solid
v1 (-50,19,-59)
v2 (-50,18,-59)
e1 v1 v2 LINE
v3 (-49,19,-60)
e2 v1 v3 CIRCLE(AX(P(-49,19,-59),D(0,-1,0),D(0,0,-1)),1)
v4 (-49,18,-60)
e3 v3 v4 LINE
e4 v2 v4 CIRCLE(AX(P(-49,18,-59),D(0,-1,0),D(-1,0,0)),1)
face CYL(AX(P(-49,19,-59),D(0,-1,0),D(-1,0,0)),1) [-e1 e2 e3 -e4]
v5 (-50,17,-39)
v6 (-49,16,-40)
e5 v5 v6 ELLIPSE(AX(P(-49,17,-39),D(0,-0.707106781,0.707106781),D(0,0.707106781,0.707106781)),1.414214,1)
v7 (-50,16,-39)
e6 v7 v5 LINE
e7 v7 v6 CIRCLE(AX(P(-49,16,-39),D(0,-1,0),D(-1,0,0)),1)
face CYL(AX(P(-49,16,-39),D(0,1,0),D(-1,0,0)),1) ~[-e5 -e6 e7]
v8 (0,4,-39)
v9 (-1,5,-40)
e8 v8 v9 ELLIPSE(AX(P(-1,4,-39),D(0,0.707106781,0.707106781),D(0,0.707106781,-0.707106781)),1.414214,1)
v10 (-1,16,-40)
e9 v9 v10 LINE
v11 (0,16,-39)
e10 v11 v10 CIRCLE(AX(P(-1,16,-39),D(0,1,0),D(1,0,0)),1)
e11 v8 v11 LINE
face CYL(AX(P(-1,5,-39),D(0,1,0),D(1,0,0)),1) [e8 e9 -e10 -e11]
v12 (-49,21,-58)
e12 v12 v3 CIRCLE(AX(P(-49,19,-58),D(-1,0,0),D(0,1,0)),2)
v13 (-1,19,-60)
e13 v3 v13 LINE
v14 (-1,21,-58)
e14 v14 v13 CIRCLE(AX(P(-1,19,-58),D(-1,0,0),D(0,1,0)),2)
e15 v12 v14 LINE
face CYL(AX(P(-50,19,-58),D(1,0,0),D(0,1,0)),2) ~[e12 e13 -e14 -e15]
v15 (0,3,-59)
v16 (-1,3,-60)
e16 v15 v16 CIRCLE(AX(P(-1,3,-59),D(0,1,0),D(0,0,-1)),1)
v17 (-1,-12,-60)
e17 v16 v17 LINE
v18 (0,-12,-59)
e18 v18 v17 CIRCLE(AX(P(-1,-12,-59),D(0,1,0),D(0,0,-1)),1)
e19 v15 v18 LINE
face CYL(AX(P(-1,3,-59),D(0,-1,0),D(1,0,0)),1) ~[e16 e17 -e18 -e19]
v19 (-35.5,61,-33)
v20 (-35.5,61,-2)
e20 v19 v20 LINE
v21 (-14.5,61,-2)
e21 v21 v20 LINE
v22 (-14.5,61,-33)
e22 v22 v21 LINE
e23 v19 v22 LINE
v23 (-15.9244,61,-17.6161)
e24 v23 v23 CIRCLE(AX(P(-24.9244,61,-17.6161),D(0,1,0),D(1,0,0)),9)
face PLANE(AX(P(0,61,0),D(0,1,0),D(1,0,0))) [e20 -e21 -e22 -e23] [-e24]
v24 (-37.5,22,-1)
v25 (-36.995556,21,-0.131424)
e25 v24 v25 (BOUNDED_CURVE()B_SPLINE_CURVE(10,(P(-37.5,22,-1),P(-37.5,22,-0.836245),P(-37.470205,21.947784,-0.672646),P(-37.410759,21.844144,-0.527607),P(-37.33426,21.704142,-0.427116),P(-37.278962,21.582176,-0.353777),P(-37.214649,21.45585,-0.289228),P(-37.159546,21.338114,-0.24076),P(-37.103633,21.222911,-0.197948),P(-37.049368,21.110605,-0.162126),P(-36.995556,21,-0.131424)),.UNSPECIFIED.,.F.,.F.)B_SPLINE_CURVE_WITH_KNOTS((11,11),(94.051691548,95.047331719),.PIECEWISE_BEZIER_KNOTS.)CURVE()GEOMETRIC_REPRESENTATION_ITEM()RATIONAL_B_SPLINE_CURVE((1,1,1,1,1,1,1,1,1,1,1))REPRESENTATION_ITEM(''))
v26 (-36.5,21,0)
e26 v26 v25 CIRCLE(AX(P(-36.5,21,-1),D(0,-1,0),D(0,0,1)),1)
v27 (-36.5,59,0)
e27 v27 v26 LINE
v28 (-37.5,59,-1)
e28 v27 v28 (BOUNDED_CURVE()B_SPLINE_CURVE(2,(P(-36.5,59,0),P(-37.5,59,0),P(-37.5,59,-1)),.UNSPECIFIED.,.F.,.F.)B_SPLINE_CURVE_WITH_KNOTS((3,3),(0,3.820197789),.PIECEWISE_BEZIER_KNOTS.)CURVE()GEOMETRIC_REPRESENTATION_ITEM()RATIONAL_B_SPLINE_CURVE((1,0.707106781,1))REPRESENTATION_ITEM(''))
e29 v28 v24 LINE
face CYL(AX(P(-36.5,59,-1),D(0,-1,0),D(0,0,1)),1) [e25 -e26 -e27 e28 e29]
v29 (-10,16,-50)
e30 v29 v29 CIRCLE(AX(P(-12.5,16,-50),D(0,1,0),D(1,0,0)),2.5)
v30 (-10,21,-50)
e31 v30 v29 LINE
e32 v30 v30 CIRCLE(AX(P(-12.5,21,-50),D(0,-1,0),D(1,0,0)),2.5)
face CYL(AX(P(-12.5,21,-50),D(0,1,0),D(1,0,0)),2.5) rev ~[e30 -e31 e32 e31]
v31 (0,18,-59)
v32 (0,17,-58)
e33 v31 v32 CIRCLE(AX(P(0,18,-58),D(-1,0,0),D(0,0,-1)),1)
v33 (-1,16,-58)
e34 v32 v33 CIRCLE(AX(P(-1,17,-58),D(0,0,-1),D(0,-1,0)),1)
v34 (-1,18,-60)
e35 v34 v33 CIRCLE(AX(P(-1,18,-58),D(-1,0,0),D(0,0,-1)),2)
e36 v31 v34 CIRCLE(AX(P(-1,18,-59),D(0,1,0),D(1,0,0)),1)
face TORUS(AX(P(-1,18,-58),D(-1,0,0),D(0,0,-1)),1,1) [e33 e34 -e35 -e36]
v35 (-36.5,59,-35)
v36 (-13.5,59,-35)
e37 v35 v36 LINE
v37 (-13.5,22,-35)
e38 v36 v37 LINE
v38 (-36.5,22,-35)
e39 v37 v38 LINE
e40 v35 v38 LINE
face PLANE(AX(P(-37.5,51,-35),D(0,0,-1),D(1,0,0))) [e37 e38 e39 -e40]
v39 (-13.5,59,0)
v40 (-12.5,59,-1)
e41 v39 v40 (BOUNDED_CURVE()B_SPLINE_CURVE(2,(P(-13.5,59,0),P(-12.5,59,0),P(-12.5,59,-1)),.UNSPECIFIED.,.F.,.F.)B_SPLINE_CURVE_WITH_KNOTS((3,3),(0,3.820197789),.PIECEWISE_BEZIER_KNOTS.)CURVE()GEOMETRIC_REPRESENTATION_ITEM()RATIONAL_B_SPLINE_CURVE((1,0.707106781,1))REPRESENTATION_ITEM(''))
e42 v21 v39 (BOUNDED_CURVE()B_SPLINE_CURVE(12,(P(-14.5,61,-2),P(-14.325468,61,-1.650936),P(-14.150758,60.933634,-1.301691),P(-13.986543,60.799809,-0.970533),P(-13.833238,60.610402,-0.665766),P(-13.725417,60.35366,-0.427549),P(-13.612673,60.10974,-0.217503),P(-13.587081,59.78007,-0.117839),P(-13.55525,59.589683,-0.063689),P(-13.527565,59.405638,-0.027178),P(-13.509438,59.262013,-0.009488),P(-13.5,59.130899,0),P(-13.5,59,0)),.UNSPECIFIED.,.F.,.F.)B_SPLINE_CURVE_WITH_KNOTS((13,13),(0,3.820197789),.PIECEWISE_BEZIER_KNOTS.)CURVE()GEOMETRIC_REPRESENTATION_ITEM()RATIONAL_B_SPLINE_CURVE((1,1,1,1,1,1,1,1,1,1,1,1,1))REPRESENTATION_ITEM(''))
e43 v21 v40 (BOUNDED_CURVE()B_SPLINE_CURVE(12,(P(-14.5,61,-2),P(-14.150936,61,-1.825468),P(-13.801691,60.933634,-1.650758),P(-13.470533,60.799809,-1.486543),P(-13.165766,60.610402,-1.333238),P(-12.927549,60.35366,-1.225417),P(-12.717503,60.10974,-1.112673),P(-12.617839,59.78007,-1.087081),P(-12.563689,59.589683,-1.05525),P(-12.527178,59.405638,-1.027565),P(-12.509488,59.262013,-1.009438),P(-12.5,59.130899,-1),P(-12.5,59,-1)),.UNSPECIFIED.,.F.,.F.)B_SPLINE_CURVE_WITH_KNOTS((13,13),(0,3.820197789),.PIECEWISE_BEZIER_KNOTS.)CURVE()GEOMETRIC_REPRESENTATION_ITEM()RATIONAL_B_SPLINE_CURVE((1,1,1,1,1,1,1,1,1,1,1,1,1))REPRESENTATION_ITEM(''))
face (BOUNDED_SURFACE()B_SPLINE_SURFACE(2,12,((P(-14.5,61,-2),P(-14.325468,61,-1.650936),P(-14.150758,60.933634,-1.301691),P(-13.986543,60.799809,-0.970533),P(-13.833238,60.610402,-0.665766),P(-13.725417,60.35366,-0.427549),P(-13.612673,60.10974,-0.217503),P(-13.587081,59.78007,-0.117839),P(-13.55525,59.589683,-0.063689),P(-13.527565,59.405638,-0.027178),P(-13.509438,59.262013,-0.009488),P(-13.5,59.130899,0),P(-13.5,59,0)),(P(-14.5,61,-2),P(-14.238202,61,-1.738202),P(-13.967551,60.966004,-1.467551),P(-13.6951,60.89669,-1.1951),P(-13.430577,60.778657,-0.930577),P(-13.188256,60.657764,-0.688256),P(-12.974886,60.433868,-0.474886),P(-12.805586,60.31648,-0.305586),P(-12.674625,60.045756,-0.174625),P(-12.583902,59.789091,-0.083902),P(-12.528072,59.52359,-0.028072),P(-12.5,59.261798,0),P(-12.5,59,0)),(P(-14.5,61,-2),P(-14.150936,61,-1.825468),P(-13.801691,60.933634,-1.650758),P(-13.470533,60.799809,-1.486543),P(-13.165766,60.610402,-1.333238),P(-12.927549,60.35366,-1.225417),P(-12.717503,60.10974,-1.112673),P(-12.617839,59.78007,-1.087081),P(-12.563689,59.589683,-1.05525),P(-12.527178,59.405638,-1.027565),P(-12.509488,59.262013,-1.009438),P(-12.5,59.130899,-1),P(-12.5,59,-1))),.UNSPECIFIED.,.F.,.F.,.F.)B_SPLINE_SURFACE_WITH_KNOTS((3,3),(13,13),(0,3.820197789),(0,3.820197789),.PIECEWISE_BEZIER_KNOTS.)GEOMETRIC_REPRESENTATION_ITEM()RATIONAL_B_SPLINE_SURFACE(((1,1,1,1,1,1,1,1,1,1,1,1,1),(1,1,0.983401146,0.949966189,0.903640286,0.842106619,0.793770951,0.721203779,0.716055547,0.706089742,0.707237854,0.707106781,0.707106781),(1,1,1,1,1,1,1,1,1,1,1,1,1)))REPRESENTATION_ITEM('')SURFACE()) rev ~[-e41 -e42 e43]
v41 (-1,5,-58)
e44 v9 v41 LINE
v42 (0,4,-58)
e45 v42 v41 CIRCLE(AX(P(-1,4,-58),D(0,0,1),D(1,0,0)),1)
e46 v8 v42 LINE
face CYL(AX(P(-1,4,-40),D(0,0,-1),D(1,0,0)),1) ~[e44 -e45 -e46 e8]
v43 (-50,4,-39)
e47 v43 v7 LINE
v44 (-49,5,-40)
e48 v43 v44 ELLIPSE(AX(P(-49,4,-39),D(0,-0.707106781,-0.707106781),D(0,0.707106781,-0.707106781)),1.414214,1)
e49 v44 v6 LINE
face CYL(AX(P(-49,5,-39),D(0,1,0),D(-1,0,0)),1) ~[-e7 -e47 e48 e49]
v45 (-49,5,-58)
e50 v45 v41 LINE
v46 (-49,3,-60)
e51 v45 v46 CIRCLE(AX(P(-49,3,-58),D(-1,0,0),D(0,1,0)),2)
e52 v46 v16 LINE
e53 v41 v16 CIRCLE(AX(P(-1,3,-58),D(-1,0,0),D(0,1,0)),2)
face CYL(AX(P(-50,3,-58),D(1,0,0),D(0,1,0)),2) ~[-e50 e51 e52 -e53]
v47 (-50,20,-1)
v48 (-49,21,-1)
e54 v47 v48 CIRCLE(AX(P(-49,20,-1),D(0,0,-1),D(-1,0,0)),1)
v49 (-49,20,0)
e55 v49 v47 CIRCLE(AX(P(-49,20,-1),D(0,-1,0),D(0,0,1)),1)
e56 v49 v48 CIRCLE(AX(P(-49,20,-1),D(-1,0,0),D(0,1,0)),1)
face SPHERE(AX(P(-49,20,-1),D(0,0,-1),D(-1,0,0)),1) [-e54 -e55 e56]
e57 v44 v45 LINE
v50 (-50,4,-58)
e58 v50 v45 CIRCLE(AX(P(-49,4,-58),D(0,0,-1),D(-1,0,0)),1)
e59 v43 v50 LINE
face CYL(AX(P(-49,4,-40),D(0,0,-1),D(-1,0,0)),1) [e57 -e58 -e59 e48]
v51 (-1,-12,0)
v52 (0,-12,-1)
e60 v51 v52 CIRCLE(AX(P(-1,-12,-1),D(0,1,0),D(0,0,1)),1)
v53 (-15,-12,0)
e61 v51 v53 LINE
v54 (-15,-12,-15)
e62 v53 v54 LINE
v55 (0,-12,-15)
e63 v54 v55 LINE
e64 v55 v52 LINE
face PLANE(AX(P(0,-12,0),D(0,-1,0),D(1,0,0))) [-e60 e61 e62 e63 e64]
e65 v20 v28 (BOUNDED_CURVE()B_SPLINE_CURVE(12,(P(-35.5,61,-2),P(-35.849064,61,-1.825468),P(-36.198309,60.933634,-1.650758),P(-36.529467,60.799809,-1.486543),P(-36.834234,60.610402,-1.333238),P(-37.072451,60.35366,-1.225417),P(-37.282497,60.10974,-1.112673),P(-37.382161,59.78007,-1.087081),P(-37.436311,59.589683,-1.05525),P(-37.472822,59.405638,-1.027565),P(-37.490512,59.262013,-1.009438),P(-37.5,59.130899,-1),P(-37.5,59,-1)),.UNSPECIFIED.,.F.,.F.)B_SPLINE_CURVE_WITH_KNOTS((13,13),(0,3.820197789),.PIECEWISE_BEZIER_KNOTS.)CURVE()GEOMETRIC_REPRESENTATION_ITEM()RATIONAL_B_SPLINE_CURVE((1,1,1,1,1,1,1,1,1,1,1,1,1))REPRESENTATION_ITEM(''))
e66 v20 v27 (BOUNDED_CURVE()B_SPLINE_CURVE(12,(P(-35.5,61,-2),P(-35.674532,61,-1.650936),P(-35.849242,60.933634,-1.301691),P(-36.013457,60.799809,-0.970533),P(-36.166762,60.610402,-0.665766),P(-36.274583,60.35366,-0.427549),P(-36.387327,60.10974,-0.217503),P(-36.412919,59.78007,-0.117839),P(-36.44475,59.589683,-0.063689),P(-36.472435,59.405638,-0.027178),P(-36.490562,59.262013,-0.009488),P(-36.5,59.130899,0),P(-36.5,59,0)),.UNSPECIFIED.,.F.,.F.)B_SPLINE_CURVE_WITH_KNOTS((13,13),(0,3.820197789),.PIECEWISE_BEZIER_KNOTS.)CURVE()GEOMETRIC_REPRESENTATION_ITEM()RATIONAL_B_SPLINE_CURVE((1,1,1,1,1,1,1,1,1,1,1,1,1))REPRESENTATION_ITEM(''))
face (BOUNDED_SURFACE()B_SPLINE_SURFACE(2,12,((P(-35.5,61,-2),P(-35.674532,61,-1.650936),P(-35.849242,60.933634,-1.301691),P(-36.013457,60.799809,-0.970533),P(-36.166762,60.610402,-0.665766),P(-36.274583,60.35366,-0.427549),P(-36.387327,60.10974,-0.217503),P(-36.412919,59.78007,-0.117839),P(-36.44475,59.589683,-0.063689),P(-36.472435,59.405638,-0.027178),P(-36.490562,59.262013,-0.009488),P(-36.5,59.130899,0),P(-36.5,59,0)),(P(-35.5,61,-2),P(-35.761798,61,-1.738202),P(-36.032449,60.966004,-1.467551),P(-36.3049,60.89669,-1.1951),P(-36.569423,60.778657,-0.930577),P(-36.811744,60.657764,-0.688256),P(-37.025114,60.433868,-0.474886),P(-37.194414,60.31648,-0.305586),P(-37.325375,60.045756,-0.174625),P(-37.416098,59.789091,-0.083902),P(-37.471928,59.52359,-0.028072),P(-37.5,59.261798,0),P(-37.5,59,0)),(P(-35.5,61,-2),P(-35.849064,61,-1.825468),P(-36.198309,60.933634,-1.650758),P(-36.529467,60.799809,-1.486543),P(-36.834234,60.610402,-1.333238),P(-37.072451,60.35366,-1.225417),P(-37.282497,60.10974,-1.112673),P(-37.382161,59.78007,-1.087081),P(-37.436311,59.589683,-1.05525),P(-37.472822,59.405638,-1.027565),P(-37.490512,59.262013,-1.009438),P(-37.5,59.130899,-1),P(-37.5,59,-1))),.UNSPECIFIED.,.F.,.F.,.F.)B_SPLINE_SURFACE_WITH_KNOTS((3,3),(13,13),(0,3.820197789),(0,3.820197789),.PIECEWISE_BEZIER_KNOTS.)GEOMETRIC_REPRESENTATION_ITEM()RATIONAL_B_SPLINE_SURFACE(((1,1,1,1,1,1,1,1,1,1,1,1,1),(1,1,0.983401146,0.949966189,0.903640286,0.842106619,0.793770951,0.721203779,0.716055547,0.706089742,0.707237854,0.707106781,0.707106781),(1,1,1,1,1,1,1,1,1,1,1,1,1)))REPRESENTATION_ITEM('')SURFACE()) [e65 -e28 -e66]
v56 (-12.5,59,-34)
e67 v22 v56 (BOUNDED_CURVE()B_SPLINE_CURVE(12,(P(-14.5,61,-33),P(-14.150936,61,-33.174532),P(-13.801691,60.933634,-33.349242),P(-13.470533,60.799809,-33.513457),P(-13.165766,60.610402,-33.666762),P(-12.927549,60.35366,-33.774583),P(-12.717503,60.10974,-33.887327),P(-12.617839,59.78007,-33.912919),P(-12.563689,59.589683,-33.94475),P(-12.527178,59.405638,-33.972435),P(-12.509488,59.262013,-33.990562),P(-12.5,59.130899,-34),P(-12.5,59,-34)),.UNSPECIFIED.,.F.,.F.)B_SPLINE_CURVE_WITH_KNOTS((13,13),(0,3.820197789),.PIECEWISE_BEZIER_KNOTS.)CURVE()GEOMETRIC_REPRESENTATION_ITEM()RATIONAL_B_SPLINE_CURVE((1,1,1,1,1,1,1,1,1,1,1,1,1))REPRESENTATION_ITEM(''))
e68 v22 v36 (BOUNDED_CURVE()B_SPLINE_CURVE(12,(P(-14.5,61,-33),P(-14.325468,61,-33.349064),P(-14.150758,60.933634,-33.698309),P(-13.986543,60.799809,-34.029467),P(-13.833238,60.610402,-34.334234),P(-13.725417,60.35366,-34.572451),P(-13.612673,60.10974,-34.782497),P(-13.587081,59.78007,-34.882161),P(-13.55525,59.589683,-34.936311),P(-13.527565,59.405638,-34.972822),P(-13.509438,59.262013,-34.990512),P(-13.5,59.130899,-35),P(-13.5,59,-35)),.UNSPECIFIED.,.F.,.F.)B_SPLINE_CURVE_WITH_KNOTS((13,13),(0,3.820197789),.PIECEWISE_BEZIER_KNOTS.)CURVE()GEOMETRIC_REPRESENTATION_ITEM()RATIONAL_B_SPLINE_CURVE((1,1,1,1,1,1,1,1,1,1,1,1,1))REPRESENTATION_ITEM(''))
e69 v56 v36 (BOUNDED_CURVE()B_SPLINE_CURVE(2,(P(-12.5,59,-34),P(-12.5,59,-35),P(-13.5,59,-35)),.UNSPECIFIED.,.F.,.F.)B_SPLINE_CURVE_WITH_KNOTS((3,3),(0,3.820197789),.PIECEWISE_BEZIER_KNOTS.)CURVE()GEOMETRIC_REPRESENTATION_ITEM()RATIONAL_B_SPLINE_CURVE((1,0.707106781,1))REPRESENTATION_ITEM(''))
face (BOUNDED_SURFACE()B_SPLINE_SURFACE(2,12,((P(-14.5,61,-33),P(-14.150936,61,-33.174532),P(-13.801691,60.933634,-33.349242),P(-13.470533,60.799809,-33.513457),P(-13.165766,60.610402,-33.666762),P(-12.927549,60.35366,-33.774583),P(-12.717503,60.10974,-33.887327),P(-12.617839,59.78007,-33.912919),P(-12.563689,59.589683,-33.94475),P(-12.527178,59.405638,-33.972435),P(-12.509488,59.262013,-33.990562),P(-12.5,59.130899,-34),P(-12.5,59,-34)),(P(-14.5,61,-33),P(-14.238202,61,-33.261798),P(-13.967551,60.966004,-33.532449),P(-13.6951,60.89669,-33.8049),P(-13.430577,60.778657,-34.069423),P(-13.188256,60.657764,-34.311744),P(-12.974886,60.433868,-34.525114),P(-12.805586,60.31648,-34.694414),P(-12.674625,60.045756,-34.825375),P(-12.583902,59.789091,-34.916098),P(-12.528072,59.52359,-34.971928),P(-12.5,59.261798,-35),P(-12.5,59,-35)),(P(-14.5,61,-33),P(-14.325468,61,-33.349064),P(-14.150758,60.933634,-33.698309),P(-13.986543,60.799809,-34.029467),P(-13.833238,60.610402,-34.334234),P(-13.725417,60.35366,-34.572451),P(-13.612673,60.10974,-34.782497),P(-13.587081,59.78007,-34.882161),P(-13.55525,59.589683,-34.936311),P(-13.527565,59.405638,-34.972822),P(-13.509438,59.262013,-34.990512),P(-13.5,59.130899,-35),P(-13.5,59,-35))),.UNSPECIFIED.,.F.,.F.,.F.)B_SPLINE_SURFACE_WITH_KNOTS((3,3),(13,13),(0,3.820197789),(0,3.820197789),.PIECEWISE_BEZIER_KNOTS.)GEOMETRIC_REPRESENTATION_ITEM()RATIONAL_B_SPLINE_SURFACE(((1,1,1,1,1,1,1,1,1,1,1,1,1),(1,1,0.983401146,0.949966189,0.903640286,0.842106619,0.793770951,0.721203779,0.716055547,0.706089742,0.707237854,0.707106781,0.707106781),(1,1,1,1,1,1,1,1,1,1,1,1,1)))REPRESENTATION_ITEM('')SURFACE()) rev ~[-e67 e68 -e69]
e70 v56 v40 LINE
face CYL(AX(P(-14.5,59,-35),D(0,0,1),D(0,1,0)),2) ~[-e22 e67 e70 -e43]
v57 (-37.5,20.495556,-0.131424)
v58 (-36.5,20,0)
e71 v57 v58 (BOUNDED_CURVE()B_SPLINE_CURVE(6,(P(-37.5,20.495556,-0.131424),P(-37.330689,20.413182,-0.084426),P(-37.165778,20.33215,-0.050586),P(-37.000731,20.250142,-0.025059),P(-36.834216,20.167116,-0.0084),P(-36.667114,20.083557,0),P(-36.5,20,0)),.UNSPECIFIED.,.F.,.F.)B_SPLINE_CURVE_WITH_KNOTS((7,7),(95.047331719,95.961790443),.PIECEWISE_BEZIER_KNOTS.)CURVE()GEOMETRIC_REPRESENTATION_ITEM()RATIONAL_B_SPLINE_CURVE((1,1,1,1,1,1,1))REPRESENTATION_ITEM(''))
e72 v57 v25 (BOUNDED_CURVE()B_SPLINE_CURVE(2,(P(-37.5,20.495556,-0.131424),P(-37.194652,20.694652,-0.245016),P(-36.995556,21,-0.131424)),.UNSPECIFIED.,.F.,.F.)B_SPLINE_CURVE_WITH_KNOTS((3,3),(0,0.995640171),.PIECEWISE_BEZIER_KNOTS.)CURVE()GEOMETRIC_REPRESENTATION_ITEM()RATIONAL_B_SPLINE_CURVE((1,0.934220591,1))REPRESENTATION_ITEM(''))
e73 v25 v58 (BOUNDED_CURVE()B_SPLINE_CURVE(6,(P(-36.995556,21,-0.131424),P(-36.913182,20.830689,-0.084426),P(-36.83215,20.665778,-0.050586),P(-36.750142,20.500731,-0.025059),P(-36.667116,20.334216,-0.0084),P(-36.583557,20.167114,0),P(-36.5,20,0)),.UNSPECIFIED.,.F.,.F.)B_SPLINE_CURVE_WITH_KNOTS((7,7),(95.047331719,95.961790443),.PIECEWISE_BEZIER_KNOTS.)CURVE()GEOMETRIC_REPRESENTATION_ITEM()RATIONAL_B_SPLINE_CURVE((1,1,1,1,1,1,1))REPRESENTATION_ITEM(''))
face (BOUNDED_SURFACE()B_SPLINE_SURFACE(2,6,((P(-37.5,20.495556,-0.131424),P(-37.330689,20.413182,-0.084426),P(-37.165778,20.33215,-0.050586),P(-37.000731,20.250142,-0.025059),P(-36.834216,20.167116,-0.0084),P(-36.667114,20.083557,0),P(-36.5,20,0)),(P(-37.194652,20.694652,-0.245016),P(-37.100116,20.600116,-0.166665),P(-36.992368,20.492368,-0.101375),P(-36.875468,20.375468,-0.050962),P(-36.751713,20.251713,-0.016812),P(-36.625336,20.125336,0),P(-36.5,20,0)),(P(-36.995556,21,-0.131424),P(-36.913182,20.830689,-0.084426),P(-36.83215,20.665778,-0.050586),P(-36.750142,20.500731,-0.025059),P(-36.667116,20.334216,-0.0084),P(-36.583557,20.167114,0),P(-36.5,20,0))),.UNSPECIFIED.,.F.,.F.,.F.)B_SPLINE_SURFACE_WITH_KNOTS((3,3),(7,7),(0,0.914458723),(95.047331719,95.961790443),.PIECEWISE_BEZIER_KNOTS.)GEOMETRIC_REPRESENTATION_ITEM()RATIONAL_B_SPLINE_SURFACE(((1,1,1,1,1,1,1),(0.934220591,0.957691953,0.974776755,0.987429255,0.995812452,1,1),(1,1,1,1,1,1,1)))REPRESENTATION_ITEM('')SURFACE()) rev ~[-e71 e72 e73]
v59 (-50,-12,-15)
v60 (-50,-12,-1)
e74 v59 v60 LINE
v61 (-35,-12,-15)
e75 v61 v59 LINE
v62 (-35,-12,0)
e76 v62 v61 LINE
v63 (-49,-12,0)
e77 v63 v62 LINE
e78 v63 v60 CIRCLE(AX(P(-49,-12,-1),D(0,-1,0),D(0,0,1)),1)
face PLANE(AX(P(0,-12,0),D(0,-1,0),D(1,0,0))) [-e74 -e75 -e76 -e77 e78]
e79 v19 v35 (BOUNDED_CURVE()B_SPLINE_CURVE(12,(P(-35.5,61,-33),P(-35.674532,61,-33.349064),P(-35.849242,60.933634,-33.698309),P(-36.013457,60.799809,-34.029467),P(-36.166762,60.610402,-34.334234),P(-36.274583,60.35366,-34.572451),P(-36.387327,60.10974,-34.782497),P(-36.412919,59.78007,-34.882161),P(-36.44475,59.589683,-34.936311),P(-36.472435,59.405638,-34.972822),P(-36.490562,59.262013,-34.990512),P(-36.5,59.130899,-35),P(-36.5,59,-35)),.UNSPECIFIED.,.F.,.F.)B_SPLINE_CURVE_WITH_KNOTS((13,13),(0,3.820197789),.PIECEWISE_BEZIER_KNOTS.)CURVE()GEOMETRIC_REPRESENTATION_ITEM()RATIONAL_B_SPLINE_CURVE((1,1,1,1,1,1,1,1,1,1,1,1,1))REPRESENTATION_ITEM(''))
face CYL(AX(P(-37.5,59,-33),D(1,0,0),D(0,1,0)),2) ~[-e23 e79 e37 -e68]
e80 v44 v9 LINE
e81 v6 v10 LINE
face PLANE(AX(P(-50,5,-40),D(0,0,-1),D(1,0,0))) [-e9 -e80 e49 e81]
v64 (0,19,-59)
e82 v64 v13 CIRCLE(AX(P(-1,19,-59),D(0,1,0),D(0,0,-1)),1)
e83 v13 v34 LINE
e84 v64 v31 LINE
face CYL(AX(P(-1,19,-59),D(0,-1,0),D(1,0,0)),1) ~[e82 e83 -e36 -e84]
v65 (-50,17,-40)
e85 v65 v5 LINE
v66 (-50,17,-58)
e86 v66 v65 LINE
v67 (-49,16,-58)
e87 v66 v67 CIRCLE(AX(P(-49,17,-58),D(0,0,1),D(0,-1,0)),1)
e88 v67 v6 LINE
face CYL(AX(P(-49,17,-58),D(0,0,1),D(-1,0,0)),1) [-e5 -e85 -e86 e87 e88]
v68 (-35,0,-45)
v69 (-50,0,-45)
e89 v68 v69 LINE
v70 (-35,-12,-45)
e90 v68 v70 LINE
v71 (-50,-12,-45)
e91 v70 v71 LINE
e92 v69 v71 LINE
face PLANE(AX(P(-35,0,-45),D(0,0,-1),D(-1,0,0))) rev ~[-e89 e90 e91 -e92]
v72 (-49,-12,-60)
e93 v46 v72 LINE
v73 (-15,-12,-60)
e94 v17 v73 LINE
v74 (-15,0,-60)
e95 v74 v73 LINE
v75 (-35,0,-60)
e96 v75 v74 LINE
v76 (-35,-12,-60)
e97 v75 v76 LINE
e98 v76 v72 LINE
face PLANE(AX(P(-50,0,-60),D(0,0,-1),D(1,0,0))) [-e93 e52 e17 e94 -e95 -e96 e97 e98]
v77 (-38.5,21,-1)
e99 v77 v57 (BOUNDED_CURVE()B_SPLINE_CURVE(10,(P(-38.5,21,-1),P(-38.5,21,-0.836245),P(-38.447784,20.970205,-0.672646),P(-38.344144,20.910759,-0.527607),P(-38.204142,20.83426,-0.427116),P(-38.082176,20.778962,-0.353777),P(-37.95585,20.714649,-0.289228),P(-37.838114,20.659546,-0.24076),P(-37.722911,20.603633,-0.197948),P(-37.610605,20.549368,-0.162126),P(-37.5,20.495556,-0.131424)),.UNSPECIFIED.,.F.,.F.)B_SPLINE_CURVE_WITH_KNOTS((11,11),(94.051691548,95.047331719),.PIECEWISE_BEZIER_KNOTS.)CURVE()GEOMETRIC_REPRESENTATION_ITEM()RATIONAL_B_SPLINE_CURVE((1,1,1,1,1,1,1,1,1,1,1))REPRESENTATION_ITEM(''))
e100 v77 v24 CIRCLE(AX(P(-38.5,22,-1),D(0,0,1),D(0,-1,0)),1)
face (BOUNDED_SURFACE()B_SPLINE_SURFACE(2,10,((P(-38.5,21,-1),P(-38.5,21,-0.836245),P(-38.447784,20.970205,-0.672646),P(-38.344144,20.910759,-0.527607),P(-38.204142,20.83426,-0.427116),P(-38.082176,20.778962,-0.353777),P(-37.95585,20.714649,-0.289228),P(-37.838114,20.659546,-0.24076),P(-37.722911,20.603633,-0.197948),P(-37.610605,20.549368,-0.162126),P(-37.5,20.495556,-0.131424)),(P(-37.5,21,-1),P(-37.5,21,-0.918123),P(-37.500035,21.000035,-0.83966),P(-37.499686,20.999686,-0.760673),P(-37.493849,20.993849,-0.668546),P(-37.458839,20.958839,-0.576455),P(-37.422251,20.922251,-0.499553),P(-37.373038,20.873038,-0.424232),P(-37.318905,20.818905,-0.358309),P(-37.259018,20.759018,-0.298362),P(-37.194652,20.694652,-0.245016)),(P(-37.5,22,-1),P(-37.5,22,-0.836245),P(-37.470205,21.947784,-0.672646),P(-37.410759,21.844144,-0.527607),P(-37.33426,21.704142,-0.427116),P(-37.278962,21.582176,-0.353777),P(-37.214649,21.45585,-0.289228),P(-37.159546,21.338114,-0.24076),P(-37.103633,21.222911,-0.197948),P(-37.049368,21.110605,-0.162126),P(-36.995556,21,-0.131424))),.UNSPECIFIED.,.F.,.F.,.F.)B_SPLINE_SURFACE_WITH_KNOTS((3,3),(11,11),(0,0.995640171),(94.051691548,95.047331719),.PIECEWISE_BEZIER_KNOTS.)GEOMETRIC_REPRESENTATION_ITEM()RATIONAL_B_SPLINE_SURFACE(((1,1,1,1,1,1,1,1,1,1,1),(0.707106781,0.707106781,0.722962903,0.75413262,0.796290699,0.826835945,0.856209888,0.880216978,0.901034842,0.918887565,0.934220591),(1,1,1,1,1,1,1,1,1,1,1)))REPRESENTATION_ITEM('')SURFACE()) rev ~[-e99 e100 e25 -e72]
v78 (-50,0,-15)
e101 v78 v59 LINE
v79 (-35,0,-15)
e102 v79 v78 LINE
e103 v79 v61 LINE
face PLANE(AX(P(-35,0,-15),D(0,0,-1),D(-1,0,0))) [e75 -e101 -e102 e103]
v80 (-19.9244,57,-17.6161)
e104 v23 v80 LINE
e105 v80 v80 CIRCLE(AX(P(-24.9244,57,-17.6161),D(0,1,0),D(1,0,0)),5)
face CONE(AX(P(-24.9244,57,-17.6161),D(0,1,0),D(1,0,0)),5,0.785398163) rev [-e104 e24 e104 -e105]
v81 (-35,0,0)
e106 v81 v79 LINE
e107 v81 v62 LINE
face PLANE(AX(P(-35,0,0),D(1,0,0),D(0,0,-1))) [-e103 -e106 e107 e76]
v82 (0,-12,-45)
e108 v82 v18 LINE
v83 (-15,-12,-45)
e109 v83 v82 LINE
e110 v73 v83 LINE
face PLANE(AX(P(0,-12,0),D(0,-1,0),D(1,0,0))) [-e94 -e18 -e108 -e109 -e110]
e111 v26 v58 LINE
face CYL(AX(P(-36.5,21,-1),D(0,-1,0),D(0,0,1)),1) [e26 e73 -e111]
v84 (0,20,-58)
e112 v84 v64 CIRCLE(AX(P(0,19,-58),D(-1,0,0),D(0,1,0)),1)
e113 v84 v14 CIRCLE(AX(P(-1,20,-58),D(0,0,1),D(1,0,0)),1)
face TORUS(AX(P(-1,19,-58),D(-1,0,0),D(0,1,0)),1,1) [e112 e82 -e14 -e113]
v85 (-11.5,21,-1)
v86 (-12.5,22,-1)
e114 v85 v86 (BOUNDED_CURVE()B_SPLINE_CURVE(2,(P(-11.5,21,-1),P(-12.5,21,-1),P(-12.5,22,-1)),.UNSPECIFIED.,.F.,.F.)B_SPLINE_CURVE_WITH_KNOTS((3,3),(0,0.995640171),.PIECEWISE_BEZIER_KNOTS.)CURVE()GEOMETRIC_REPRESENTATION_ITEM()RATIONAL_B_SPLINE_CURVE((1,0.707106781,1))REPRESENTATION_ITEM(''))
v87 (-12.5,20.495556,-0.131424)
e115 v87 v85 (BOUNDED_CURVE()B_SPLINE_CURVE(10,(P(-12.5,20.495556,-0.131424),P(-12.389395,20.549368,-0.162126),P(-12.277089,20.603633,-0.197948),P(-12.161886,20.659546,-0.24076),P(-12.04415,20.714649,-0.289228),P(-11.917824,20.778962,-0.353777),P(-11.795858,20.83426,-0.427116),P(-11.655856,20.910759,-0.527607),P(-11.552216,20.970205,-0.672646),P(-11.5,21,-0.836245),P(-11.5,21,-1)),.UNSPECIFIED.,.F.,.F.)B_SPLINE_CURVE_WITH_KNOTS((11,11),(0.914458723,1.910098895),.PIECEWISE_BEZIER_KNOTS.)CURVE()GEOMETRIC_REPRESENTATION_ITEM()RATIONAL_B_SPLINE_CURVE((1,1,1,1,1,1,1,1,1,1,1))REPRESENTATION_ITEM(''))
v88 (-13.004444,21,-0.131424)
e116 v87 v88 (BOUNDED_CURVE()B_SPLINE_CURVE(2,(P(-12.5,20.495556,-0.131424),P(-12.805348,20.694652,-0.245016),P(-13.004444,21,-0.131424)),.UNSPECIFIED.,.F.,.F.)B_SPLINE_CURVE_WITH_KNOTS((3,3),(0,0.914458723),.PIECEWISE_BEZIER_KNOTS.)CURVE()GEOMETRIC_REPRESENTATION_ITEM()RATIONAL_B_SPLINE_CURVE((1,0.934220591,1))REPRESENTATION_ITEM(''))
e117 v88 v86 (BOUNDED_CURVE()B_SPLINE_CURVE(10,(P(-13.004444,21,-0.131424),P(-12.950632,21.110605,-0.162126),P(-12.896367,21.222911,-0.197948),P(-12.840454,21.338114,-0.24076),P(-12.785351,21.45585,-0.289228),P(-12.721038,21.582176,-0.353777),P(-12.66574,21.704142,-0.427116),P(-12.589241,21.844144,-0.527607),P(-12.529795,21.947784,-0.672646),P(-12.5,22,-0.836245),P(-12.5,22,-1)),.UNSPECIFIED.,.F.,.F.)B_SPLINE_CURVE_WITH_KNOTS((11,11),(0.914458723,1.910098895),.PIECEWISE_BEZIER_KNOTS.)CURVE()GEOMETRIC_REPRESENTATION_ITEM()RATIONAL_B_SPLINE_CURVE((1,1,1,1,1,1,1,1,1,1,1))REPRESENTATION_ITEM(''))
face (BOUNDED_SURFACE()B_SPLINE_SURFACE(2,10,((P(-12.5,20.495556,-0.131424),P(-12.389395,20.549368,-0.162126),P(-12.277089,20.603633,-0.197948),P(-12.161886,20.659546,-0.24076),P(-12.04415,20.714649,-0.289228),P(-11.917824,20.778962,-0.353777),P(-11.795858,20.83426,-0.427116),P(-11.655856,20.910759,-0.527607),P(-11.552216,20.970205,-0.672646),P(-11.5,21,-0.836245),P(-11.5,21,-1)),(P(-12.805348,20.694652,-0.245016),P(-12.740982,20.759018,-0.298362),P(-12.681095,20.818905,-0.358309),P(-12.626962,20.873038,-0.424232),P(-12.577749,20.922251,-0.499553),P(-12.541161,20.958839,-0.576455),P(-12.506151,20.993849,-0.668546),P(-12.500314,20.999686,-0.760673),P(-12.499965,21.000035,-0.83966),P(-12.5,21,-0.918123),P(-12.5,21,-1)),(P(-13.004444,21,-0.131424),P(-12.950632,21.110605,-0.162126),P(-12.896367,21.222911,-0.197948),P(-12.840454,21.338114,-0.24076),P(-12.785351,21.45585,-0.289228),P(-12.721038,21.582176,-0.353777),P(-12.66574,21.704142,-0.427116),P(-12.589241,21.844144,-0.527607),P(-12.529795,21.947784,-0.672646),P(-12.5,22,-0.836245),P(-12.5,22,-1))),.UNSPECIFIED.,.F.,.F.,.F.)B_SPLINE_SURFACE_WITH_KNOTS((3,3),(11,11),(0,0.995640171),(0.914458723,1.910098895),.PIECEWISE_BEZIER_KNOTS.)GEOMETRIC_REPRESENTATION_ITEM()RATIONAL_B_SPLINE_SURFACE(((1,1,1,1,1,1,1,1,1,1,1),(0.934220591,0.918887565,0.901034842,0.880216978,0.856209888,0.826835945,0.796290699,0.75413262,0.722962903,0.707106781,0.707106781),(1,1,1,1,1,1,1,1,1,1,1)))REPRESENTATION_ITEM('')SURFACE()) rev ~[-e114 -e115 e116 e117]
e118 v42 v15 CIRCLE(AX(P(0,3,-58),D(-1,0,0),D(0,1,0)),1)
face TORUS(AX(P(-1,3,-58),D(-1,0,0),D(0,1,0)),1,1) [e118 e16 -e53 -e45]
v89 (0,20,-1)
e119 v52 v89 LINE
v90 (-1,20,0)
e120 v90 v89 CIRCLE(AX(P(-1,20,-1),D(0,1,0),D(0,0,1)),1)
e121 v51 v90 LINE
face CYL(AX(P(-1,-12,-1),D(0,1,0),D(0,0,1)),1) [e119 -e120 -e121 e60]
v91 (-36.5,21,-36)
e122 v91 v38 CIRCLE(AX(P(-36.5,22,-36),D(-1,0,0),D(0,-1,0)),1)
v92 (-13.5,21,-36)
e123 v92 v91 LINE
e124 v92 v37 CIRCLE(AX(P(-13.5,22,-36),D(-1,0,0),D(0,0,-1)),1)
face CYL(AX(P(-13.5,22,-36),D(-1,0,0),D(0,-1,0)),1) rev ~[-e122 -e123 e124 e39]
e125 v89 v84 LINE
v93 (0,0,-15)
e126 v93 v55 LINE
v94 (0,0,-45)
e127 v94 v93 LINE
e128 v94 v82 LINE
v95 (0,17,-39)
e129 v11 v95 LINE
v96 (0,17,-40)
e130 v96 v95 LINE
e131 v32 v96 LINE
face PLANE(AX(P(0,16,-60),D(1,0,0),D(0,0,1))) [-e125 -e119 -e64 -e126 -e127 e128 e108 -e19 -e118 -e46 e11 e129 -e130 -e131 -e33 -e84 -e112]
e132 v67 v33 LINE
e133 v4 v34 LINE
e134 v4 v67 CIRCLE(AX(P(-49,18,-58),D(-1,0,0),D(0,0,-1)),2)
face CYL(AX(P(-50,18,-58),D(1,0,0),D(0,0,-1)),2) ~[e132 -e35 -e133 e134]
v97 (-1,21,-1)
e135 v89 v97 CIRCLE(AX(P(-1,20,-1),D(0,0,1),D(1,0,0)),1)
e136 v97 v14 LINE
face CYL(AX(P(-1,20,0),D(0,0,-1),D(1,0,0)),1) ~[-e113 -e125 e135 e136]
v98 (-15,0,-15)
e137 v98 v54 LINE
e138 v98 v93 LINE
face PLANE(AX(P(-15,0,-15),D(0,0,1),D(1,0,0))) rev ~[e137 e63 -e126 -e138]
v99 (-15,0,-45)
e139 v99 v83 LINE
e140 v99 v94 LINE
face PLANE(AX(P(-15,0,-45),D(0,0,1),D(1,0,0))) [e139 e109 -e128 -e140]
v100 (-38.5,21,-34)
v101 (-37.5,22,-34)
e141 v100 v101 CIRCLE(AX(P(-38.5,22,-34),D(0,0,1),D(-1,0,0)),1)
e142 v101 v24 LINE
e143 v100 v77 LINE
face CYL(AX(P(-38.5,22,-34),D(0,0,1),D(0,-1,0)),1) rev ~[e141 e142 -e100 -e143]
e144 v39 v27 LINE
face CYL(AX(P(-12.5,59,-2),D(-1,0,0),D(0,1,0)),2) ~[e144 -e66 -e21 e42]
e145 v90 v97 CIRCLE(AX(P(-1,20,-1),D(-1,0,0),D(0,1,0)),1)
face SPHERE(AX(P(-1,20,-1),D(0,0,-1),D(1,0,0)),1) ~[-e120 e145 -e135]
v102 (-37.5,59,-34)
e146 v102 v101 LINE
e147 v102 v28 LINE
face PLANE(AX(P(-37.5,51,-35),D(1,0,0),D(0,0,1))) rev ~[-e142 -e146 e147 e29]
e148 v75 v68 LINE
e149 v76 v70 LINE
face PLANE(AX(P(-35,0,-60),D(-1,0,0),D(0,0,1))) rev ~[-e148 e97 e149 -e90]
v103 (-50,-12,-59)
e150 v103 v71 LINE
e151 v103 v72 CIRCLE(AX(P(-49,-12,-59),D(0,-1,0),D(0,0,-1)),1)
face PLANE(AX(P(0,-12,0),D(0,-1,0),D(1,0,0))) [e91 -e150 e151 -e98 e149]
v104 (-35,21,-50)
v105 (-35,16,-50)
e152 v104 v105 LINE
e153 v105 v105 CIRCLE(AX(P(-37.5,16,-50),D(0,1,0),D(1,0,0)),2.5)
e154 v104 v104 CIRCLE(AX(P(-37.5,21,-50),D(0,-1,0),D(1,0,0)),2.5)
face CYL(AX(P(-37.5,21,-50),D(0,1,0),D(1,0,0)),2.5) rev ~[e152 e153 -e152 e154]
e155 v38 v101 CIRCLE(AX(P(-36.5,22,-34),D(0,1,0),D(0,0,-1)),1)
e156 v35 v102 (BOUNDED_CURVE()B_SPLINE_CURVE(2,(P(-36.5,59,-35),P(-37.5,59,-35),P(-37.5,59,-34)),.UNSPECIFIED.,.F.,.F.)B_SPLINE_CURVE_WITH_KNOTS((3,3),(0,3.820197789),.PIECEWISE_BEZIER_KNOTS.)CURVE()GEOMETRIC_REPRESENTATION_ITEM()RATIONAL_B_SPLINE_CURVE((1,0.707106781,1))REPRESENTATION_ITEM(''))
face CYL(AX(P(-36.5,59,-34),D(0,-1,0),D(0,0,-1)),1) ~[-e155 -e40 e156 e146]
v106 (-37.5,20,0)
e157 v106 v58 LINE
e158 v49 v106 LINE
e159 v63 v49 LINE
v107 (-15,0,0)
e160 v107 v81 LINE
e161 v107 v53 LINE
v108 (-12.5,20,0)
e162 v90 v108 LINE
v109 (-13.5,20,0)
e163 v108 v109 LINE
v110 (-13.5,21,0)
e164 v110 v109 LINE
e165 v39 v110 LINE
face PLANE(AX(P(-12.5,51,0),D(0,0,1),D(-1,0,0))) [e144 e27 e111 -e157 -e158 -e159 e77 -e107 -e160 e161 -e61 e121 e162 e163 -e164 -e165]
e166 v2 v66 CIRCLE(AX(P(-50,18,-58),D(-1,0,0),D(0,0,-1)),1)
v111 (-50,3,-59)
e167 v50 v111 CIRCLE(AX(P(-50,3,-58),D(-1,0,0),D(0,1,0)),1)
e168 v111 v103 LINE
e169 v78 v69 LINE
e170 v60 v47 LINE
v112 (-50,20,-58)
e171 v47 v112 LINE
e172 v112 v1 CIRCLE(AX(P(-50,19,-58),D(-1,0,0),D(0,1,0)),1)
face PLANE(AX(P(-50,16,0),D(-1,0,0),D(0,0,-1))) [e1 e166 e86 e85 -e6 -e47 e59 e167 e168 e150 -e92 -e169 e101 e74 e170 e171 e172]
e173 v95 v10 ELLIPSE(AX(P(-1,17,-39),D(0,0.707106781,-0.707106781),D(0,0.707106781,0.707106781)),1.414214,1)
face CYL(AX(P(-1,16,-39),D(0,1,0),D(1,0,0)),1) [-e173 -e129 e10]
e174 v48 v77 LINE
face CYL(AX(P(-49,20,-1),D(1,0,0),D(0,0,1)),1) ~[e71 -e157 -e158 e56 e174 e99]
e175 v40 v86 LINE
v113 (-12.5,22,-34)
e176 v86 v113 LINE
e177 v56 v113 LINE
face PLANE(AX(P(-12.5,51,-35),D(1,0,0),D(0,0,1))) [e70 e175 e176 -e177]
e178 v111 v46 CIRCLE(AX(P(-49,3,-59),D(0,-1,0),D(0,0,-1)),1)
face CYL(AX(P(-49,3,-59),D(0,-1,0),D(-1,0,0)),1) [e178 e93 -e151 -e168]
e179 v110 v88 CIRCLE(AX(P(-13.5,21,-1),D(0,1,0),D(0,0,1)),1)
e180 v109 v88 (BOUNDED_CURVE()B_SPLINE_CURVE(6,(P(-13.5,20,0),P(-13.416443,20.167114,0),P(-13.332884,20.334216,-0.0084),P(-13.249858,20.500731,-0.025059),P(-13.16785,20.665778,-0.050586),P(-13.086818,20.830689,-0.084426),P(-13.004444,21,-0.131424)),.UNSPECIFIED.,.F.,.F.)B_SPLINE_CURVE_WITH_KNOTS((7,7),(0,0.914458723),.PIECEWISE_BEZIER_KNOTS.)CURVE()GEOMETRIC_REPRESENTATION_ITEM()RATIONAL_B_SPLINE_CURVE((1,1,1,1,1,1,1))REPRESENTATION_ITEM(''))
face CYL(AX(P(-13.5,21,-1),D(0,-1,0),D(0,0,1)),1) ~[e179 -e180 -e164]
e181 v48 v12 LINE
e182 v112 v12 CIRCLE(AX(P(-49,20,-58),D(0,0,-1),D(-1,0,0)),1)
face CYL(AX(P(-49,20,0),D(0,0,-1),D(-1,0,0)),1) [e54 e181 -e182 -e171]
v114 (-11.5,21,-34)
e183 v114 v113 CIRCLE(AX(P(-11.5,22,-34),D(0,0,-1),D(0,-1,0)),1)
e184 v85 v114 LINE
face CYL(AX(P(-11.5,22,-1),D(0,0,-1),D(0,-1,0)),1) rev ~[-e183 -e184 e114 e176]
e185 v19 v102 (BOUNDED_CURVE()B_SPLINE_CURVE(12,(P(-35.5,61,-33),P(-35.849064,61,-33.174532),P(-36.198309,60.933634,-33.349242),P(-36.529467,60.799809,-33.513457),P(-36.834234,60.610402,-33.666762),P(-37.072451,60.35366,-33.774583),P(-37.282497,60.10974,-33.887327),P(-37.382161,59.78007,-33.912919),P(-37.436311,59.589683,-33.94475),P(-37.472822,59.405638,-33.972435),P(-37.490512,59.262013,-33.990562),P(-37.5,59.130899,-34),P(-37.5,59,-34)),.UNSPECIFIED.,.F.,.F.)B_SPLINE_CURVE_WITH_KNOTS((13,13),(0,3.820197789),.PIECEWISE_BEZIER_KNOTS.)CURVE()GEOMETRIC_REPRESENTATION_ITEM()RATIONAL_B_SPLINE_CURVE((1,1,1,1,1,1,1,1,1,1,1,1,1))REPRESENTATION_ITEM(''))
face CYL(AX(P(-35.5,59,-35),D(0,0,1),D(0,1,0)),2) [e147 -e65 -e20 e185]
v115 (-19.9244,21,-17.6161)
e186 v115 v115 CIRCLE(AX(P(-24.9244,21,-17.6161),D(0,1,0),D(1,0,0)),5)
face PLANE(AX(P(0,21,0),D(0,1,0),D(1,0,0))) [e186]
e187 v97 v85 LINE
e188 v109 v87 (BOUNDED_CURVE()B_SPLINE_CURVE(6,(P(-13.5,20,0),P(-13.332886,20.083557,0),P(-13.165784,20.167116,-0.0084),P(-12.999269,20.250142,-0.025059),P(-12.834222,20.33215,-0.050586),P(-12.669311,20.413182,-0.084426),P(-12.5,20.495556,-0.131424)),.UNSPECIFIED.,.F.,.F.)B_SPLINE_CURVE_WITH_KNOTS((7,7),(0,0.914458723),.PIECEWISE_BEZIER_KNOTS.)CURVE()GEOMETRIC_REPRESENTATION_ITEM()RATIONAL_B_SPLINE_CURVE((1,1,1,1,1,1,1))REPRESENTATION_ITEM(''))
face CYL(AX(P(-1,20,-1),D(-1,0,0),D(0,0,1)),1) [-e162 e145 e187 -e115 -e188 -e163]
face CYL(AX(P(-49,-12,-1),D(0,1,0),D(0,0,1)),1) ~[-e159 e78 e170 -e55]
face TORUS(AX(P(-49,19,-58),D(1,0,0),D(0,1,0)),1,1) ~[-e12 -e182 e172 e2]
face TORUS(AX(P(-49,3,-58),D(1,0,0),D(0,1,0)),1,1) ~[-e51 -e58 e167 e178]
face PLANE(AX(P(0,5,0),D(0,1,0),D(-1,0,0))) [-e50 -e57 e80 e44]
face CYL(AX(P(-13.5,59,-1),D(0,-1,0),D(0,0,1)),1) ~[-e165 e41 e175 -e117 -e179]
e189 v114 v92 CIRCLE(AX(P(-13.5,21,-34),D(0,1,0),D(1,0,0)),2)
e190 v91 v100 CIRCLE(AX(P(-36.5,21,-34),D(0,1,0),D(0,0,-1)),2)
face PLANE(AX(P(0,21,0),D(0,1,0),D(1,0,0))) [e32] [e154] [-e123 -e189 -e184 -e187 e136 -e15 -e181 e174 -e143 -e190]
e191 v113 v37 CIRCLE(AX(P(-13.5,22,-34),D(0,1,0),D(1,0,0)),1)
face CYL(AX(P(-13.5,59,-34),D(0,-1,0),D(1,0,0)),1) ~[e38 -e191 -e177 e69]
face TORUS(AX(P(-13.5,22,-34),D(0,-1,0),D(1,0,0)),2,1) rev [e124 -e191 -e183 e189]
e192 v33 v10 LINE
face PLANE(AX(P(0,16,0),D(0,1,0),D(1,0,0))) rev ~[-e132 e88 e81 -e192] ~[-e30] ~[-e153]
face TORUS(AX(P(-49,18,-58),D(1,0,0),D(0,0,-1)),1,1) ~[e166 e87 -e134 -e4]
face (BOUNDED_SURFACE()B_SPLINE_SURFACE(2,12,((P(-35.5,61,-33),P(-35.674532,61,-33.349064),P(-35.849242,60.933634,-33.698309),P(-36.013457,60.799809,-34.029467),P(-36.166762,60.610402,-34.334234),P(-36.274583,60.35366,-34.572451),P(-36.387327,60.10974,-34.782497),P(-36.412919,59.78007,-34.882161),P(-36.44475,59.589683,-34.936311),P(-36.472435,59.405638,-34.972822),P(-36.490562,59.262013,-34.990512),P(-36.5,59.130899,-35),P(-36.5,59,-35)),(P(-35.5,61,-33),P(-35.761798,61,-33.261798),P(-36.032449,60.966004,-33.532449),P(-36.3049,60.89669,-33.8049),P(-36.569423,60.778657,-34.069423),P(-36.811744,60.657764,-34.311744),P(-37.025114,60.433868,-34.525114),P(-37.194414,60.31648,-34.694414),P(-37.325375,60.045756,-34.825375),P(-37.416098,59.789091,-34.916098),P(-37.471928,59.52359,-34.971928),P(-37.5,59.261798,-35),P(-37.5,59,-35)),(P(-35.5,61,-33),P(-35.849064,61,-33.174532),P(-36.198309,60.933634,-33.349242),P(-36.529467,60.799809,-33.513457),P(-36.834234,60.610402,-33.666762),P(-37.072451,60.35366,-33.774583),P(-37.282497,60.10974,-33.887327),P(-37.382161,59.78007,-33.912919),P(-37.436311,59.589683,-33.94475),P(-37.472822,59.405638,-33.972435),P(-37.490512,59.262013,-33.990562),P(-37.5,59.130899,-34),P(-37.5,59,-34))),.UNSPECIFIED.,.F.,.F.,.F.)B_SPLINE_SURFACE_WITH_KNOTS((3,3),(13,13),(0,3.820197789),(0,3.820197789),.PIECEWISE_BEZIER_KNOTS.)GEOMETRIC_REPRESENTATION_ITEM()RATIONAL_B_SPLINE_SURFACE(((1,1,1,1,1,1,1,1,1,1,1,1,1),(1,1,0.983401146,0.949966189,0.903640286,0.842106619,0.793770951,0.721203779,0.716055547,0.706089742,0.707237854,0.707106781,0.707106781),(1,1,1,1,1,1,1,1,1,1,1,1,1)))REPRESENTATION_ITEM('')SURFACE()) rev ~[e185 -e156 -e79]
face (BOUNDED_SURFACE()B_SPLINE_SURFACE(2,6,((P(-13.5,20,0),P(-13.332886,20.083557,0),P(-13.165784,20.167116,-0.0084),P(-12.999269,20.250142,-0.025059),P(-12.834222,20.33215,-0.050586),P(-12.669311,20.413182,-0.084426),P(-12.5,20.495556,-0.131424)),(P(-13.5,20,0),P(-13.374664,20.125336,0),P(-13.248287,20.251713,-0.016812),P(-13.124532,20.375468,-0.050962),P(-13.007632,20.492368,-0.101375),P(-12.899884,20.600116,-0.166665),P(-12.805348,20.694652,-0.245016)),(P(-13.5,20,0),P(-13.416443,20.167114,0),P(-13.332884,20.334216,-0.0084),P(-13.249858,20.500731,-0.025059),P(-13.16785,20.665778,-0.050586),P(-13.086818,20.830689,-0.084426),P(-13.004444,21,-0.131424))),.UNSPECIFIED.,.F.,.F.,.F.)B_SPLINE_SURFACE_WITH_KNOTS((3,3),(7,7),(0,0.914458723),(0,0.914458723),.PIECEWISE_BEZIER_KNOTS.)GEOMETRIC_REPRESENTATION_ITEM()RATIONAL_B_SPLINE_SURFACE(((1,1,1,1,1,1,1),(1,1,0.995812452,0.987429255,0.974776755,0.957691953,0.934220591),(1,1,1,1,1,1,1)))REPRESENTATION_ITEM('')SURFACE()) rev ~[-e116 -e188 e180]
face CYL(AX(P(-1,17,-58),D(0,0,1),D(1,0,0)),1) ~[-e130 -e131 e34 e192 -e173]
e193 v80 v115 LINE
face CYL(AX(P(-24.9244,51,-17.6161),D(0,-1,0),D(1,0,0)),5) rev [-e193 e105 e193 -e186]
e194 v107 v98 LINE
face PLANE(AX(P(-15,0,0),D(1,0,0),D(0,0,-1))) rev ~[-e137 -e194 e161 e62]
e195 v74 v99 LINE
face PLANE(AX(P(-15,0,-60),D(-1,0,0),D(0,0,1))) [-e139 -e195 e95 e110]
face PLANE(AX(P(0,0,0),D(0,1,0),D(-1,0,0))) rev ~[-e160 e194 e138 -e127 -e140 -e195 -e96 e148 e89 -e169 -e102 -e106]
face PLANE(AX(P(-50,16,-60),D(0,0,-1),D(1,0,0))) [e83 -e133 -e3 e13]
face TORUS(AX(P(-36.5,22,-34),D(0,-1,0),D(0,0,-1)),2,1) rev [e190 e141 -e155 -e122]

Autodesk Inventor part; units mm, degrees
ref_plane "YZ Plane" through (0, 0, 0) normal (1, 0, 0) x (0, 1, 0)
ref_plane "XZ Plane" through (0, 0, 0) normal (0, 1, 0) x (-1, 0, 0)
ref_plane "XY Plane" through (0, 0, 0) normal (0, 0, 1) x (1, 0, 0)
sketch "Sketch1" plane through (0, 0, 0) normal (0, 1, 0) x (-1, 0, 0)
  line L0 (0, 0) -> (50, 0)
  line L1 (50, 0) -> (50, -60)
  line L2 (50, -60) -> (0, -60)
  line L3 (0, -60) -> (0, 0)
  dimension "d0" = 50
  dimension "d1" = 60
extrude "Extrusion1" add sketch "Sketch1" along normal blind 5
sketch "Sketch2" plane through (0, 5, 0) normal (0, 1, 0) x (1, 0, 0)
  line L0 (-50, 0) -> (0, 0) projected
  line L1 (-50, 60) -> (-50, 0) projected
  line L2 (0, 0) -> (-50, 0)
  line L3 (-50, 0) -> (-50, 40)
  line L4 (-50, 40) -> (0, 40)
  line L5 (0, 40) -> (0, 0)
  dimension "d4" = 40
extrude "Extrusion2" add sketch "Sketch2" along normal blind 11
sketch "Sketch3" plane through (0, 16, 0) normal (0, 1, 0) x (1, 0, 0)
  line L0 (0, 0) -> (-50, 0)
  line L1 (-50, 0) -> (-50, 60)
  line L2 (-50, 60) -> (0, 60)
  line L3 (0, 60) -> (0, 0)
extrude "Extrusion3" add sketch "Sketch3" along normal blind 5
sketch "Sketch4" plane through (0, 21, 0) normal (0, 1, 0) x (1, 0, 0)
  line L0 (0, 0) -> (0, 60) projected
  line L1 (-50, 40) -> (0, 40) projected
  line L2 (0, 60) -> (-50, 60)
  line L3 (-50, 60) -> (-50, 40)
  line L4 (-50, 40) -> (0, 40)
  line L5 (0, 40) -> (0, 60)
  line L6 (-50, 50) -> (0, 50)
  line L7 (-25, 50) -> (-50, 50)
  line L8 (-25, 50) -> (0, 50)
  circle A0 centre (-12.5, 50) radius 2.5
  circle A1 centre (-37.5, 50) radius 2.5
  dimension "d9" = 5
  dimension "d10" = 5
extrude "Extrusion4" cut sketch "Sketch4" against normal blind 5 contours A0 L6 | L6 A0 | A1 L6 | L6 A1
sketch "Sketch5" plane through (0, 21, 0) normal (0, 1, 0) x (1, 0, 0)
  line L0 (-50, 60) -> (-50, 0) projected
  line L1 (0, 0) -> (-50, 0)
  line L2 (-50, 0) -> (-50, 35)
  line L3 (-50, 35) -> (0, 35)
  line L4 (0, 35) -> (0, 0)
  line L5 (-37.5, 35) -> (-37.5, 0)
  line L6 (-12.5, 35) -> (-12.5, 0)
  dimension "d13" = 35
extrude "Extrusion5" add sketch "Sketch5" along normal blind 30 contours L3 L6 L1 L5
sketch "Sketch6" plane through (0, 51, 0) normal (0, 1, 0) x (1, 0, 0)
  line L0 (0, 0) -> (0, 60) projected
  line L1 (0, 0) -> (-49.8487, 0)
  line L2 (-49.8487, 0) -> (-49.8487, 35.2322)
  line L3 (-49.8487, 35.2322) -> (0, 35.2322)
  line L4 (0, 35.2322) -> (0, 0)
  line L5 (-49.8487, 17.6161) -> (0, 17.6161) construction
  line L6 (-24.9244, 0) -> (-24.9244, 35.2322) construction
  circle A0 centre (-24.9244, 17.6161) radius 5
  dimension "d16" = 10
extrude "Extrusion6" cut sketch "Sketch6" against normal blind 30 contours A0
sketch "Sketch7" plane through (0, 51, 0) normal (0, 1, 0) x (1, 0, 0)
  line L0 (-50, 35) -> (-50, 0) projected
  line L1 (0, 0) -> (-50, 0)
  line L2 (-50, 0) -> (-50, 35)
  line L3 (-50, 35) -> (0, 35)
  line L4 (0, 35) -> (0, 0)
  circle A0 centre (-24.9244, 17.6161) radius 5 projected
  circle A1 centre (-24.9244, 17.6161) radius 5
  line L5 (-37.5, 35) -> (-37.5, 0)
  line L6 (-12.5, 35) -> (-12.5, 0)
extrude "Extrusion7" add sketch "Sketch7" along normal blind 10 contours L3 L6 L1 L5
chamfer "Chamfer1" distance 4 angle 45 1 edges at (-29.9244, 61, -17.6161)
sketch "Sketch8" plane through (0, 0, 0) normal (0, -1, 0) x (1, 0, 0)
  point P0 (0, 0)
sketch "Sketch9" plane through (0, 0, 0) normal (0, -1, 0) x (1, 0, 0)
  line L0 (0, -60) -> (-50, -60) projected
  line L1 (0, -60) -> (-15, -60)
  line L2 (-15, -60) -> (-15, -45)
  line L3 (-15, -45) -> (0, -45)
  line L4 (0, -45) -> (0, -60)
  line L5 (-50, -60) -> (-50, 0) projected
  line L6 (-50, -60) -> (-35, -60)
  line L7 (-35, -60) -> (-35, -45)
  line L8 (-35, -45) -> (-50, -45)
  line L9 (-50, -45) -> (-50, -60)
  line L10 (0, 0) -> (-15, 0)
  line L11 (-15, 0) -> (-15, -15)
  line L12 (-15, -15) -> (0, -15)
  line L13 (0, -15) -> (0, 0)
  line L14 (-50, 0) -> (-35, 0)
  line L15 (-35, 0) -> (-35, -15)
  line L16 (-35, -15) -> (-50, -15)
  line L17 (-50, -15) -> (-50, 0)
  point P0 (-50, -35)
  dimension "d24" = 15
  dimension "d25" = 15
  dimension "d26" = 15
  dimension "d27" = 15
  dimension "d28" = 15
  dimension "d29" = 15
extrude "Extrusion8" add sketch "Sketch9" along normal blind 12
fillet "Fillet1" radius 2 7 edges at (-25, 61, -35) (-25, 61, 0) (-25, 21, -60) (-25, 16, -60) (-25, 5, -60) (-12.5, 61, -17.5) (-37.5, 61, -17.5)
fillet "Fillet2" radius 1 10 edges at (-50, 20.4142, -59.4142) (-50, 18.5, -60) (-50, 16.5858, -59.4142) (-50, 16, -49) (-50, 21, -29) (0, 20.4142, -59.4142) (0, 18.5, -60) (0, 16.5858, -59.4142) (0, 16, -49) (0, 21, -29)
fillet "Fillet3" radius 1 16 edges at (-49.7071, 20.7071, 0) (-50, 4, 0) (-43.25, 21, 0) (-0.2929, 20.7071, 0) (0, 4, 0) (-6.75, 21, 0) (-50, 4.4142, -59.4142) (-50, 5, -49) (-50, -4.5, -60) (0, 4.4142, -59.4142) (0, 5, -49) (0, -4.5, -60) (0, 16.5, -40) (0, 10.5, -40) (-50, 16.5, -40) (-50, 10.5, -40)
fillet "Fillet4" radius 1 15 edges at (-13.0858, 60.4142, -0.5858) (-12.5, 40, 0) (-12.5, 20.5, 0) (-36.9142, 60.4142, -0.5858) (-37.5, 20.5, 0) (-37.5, 40, 0) (-13.0858, 60.4142, -34.4142) (-12.5, 40, -35) (-36.9142, 60.4142, -34.4142) (-37.5, 40, -35) (-37.5, 20.7071, -0.2929) (-37.5, 21, -18) (-25, 21, -35) (-12.5, 20.7071, -0.2929) (-12.5, 21, -18)
properties part number "PortaHerramienta1"
